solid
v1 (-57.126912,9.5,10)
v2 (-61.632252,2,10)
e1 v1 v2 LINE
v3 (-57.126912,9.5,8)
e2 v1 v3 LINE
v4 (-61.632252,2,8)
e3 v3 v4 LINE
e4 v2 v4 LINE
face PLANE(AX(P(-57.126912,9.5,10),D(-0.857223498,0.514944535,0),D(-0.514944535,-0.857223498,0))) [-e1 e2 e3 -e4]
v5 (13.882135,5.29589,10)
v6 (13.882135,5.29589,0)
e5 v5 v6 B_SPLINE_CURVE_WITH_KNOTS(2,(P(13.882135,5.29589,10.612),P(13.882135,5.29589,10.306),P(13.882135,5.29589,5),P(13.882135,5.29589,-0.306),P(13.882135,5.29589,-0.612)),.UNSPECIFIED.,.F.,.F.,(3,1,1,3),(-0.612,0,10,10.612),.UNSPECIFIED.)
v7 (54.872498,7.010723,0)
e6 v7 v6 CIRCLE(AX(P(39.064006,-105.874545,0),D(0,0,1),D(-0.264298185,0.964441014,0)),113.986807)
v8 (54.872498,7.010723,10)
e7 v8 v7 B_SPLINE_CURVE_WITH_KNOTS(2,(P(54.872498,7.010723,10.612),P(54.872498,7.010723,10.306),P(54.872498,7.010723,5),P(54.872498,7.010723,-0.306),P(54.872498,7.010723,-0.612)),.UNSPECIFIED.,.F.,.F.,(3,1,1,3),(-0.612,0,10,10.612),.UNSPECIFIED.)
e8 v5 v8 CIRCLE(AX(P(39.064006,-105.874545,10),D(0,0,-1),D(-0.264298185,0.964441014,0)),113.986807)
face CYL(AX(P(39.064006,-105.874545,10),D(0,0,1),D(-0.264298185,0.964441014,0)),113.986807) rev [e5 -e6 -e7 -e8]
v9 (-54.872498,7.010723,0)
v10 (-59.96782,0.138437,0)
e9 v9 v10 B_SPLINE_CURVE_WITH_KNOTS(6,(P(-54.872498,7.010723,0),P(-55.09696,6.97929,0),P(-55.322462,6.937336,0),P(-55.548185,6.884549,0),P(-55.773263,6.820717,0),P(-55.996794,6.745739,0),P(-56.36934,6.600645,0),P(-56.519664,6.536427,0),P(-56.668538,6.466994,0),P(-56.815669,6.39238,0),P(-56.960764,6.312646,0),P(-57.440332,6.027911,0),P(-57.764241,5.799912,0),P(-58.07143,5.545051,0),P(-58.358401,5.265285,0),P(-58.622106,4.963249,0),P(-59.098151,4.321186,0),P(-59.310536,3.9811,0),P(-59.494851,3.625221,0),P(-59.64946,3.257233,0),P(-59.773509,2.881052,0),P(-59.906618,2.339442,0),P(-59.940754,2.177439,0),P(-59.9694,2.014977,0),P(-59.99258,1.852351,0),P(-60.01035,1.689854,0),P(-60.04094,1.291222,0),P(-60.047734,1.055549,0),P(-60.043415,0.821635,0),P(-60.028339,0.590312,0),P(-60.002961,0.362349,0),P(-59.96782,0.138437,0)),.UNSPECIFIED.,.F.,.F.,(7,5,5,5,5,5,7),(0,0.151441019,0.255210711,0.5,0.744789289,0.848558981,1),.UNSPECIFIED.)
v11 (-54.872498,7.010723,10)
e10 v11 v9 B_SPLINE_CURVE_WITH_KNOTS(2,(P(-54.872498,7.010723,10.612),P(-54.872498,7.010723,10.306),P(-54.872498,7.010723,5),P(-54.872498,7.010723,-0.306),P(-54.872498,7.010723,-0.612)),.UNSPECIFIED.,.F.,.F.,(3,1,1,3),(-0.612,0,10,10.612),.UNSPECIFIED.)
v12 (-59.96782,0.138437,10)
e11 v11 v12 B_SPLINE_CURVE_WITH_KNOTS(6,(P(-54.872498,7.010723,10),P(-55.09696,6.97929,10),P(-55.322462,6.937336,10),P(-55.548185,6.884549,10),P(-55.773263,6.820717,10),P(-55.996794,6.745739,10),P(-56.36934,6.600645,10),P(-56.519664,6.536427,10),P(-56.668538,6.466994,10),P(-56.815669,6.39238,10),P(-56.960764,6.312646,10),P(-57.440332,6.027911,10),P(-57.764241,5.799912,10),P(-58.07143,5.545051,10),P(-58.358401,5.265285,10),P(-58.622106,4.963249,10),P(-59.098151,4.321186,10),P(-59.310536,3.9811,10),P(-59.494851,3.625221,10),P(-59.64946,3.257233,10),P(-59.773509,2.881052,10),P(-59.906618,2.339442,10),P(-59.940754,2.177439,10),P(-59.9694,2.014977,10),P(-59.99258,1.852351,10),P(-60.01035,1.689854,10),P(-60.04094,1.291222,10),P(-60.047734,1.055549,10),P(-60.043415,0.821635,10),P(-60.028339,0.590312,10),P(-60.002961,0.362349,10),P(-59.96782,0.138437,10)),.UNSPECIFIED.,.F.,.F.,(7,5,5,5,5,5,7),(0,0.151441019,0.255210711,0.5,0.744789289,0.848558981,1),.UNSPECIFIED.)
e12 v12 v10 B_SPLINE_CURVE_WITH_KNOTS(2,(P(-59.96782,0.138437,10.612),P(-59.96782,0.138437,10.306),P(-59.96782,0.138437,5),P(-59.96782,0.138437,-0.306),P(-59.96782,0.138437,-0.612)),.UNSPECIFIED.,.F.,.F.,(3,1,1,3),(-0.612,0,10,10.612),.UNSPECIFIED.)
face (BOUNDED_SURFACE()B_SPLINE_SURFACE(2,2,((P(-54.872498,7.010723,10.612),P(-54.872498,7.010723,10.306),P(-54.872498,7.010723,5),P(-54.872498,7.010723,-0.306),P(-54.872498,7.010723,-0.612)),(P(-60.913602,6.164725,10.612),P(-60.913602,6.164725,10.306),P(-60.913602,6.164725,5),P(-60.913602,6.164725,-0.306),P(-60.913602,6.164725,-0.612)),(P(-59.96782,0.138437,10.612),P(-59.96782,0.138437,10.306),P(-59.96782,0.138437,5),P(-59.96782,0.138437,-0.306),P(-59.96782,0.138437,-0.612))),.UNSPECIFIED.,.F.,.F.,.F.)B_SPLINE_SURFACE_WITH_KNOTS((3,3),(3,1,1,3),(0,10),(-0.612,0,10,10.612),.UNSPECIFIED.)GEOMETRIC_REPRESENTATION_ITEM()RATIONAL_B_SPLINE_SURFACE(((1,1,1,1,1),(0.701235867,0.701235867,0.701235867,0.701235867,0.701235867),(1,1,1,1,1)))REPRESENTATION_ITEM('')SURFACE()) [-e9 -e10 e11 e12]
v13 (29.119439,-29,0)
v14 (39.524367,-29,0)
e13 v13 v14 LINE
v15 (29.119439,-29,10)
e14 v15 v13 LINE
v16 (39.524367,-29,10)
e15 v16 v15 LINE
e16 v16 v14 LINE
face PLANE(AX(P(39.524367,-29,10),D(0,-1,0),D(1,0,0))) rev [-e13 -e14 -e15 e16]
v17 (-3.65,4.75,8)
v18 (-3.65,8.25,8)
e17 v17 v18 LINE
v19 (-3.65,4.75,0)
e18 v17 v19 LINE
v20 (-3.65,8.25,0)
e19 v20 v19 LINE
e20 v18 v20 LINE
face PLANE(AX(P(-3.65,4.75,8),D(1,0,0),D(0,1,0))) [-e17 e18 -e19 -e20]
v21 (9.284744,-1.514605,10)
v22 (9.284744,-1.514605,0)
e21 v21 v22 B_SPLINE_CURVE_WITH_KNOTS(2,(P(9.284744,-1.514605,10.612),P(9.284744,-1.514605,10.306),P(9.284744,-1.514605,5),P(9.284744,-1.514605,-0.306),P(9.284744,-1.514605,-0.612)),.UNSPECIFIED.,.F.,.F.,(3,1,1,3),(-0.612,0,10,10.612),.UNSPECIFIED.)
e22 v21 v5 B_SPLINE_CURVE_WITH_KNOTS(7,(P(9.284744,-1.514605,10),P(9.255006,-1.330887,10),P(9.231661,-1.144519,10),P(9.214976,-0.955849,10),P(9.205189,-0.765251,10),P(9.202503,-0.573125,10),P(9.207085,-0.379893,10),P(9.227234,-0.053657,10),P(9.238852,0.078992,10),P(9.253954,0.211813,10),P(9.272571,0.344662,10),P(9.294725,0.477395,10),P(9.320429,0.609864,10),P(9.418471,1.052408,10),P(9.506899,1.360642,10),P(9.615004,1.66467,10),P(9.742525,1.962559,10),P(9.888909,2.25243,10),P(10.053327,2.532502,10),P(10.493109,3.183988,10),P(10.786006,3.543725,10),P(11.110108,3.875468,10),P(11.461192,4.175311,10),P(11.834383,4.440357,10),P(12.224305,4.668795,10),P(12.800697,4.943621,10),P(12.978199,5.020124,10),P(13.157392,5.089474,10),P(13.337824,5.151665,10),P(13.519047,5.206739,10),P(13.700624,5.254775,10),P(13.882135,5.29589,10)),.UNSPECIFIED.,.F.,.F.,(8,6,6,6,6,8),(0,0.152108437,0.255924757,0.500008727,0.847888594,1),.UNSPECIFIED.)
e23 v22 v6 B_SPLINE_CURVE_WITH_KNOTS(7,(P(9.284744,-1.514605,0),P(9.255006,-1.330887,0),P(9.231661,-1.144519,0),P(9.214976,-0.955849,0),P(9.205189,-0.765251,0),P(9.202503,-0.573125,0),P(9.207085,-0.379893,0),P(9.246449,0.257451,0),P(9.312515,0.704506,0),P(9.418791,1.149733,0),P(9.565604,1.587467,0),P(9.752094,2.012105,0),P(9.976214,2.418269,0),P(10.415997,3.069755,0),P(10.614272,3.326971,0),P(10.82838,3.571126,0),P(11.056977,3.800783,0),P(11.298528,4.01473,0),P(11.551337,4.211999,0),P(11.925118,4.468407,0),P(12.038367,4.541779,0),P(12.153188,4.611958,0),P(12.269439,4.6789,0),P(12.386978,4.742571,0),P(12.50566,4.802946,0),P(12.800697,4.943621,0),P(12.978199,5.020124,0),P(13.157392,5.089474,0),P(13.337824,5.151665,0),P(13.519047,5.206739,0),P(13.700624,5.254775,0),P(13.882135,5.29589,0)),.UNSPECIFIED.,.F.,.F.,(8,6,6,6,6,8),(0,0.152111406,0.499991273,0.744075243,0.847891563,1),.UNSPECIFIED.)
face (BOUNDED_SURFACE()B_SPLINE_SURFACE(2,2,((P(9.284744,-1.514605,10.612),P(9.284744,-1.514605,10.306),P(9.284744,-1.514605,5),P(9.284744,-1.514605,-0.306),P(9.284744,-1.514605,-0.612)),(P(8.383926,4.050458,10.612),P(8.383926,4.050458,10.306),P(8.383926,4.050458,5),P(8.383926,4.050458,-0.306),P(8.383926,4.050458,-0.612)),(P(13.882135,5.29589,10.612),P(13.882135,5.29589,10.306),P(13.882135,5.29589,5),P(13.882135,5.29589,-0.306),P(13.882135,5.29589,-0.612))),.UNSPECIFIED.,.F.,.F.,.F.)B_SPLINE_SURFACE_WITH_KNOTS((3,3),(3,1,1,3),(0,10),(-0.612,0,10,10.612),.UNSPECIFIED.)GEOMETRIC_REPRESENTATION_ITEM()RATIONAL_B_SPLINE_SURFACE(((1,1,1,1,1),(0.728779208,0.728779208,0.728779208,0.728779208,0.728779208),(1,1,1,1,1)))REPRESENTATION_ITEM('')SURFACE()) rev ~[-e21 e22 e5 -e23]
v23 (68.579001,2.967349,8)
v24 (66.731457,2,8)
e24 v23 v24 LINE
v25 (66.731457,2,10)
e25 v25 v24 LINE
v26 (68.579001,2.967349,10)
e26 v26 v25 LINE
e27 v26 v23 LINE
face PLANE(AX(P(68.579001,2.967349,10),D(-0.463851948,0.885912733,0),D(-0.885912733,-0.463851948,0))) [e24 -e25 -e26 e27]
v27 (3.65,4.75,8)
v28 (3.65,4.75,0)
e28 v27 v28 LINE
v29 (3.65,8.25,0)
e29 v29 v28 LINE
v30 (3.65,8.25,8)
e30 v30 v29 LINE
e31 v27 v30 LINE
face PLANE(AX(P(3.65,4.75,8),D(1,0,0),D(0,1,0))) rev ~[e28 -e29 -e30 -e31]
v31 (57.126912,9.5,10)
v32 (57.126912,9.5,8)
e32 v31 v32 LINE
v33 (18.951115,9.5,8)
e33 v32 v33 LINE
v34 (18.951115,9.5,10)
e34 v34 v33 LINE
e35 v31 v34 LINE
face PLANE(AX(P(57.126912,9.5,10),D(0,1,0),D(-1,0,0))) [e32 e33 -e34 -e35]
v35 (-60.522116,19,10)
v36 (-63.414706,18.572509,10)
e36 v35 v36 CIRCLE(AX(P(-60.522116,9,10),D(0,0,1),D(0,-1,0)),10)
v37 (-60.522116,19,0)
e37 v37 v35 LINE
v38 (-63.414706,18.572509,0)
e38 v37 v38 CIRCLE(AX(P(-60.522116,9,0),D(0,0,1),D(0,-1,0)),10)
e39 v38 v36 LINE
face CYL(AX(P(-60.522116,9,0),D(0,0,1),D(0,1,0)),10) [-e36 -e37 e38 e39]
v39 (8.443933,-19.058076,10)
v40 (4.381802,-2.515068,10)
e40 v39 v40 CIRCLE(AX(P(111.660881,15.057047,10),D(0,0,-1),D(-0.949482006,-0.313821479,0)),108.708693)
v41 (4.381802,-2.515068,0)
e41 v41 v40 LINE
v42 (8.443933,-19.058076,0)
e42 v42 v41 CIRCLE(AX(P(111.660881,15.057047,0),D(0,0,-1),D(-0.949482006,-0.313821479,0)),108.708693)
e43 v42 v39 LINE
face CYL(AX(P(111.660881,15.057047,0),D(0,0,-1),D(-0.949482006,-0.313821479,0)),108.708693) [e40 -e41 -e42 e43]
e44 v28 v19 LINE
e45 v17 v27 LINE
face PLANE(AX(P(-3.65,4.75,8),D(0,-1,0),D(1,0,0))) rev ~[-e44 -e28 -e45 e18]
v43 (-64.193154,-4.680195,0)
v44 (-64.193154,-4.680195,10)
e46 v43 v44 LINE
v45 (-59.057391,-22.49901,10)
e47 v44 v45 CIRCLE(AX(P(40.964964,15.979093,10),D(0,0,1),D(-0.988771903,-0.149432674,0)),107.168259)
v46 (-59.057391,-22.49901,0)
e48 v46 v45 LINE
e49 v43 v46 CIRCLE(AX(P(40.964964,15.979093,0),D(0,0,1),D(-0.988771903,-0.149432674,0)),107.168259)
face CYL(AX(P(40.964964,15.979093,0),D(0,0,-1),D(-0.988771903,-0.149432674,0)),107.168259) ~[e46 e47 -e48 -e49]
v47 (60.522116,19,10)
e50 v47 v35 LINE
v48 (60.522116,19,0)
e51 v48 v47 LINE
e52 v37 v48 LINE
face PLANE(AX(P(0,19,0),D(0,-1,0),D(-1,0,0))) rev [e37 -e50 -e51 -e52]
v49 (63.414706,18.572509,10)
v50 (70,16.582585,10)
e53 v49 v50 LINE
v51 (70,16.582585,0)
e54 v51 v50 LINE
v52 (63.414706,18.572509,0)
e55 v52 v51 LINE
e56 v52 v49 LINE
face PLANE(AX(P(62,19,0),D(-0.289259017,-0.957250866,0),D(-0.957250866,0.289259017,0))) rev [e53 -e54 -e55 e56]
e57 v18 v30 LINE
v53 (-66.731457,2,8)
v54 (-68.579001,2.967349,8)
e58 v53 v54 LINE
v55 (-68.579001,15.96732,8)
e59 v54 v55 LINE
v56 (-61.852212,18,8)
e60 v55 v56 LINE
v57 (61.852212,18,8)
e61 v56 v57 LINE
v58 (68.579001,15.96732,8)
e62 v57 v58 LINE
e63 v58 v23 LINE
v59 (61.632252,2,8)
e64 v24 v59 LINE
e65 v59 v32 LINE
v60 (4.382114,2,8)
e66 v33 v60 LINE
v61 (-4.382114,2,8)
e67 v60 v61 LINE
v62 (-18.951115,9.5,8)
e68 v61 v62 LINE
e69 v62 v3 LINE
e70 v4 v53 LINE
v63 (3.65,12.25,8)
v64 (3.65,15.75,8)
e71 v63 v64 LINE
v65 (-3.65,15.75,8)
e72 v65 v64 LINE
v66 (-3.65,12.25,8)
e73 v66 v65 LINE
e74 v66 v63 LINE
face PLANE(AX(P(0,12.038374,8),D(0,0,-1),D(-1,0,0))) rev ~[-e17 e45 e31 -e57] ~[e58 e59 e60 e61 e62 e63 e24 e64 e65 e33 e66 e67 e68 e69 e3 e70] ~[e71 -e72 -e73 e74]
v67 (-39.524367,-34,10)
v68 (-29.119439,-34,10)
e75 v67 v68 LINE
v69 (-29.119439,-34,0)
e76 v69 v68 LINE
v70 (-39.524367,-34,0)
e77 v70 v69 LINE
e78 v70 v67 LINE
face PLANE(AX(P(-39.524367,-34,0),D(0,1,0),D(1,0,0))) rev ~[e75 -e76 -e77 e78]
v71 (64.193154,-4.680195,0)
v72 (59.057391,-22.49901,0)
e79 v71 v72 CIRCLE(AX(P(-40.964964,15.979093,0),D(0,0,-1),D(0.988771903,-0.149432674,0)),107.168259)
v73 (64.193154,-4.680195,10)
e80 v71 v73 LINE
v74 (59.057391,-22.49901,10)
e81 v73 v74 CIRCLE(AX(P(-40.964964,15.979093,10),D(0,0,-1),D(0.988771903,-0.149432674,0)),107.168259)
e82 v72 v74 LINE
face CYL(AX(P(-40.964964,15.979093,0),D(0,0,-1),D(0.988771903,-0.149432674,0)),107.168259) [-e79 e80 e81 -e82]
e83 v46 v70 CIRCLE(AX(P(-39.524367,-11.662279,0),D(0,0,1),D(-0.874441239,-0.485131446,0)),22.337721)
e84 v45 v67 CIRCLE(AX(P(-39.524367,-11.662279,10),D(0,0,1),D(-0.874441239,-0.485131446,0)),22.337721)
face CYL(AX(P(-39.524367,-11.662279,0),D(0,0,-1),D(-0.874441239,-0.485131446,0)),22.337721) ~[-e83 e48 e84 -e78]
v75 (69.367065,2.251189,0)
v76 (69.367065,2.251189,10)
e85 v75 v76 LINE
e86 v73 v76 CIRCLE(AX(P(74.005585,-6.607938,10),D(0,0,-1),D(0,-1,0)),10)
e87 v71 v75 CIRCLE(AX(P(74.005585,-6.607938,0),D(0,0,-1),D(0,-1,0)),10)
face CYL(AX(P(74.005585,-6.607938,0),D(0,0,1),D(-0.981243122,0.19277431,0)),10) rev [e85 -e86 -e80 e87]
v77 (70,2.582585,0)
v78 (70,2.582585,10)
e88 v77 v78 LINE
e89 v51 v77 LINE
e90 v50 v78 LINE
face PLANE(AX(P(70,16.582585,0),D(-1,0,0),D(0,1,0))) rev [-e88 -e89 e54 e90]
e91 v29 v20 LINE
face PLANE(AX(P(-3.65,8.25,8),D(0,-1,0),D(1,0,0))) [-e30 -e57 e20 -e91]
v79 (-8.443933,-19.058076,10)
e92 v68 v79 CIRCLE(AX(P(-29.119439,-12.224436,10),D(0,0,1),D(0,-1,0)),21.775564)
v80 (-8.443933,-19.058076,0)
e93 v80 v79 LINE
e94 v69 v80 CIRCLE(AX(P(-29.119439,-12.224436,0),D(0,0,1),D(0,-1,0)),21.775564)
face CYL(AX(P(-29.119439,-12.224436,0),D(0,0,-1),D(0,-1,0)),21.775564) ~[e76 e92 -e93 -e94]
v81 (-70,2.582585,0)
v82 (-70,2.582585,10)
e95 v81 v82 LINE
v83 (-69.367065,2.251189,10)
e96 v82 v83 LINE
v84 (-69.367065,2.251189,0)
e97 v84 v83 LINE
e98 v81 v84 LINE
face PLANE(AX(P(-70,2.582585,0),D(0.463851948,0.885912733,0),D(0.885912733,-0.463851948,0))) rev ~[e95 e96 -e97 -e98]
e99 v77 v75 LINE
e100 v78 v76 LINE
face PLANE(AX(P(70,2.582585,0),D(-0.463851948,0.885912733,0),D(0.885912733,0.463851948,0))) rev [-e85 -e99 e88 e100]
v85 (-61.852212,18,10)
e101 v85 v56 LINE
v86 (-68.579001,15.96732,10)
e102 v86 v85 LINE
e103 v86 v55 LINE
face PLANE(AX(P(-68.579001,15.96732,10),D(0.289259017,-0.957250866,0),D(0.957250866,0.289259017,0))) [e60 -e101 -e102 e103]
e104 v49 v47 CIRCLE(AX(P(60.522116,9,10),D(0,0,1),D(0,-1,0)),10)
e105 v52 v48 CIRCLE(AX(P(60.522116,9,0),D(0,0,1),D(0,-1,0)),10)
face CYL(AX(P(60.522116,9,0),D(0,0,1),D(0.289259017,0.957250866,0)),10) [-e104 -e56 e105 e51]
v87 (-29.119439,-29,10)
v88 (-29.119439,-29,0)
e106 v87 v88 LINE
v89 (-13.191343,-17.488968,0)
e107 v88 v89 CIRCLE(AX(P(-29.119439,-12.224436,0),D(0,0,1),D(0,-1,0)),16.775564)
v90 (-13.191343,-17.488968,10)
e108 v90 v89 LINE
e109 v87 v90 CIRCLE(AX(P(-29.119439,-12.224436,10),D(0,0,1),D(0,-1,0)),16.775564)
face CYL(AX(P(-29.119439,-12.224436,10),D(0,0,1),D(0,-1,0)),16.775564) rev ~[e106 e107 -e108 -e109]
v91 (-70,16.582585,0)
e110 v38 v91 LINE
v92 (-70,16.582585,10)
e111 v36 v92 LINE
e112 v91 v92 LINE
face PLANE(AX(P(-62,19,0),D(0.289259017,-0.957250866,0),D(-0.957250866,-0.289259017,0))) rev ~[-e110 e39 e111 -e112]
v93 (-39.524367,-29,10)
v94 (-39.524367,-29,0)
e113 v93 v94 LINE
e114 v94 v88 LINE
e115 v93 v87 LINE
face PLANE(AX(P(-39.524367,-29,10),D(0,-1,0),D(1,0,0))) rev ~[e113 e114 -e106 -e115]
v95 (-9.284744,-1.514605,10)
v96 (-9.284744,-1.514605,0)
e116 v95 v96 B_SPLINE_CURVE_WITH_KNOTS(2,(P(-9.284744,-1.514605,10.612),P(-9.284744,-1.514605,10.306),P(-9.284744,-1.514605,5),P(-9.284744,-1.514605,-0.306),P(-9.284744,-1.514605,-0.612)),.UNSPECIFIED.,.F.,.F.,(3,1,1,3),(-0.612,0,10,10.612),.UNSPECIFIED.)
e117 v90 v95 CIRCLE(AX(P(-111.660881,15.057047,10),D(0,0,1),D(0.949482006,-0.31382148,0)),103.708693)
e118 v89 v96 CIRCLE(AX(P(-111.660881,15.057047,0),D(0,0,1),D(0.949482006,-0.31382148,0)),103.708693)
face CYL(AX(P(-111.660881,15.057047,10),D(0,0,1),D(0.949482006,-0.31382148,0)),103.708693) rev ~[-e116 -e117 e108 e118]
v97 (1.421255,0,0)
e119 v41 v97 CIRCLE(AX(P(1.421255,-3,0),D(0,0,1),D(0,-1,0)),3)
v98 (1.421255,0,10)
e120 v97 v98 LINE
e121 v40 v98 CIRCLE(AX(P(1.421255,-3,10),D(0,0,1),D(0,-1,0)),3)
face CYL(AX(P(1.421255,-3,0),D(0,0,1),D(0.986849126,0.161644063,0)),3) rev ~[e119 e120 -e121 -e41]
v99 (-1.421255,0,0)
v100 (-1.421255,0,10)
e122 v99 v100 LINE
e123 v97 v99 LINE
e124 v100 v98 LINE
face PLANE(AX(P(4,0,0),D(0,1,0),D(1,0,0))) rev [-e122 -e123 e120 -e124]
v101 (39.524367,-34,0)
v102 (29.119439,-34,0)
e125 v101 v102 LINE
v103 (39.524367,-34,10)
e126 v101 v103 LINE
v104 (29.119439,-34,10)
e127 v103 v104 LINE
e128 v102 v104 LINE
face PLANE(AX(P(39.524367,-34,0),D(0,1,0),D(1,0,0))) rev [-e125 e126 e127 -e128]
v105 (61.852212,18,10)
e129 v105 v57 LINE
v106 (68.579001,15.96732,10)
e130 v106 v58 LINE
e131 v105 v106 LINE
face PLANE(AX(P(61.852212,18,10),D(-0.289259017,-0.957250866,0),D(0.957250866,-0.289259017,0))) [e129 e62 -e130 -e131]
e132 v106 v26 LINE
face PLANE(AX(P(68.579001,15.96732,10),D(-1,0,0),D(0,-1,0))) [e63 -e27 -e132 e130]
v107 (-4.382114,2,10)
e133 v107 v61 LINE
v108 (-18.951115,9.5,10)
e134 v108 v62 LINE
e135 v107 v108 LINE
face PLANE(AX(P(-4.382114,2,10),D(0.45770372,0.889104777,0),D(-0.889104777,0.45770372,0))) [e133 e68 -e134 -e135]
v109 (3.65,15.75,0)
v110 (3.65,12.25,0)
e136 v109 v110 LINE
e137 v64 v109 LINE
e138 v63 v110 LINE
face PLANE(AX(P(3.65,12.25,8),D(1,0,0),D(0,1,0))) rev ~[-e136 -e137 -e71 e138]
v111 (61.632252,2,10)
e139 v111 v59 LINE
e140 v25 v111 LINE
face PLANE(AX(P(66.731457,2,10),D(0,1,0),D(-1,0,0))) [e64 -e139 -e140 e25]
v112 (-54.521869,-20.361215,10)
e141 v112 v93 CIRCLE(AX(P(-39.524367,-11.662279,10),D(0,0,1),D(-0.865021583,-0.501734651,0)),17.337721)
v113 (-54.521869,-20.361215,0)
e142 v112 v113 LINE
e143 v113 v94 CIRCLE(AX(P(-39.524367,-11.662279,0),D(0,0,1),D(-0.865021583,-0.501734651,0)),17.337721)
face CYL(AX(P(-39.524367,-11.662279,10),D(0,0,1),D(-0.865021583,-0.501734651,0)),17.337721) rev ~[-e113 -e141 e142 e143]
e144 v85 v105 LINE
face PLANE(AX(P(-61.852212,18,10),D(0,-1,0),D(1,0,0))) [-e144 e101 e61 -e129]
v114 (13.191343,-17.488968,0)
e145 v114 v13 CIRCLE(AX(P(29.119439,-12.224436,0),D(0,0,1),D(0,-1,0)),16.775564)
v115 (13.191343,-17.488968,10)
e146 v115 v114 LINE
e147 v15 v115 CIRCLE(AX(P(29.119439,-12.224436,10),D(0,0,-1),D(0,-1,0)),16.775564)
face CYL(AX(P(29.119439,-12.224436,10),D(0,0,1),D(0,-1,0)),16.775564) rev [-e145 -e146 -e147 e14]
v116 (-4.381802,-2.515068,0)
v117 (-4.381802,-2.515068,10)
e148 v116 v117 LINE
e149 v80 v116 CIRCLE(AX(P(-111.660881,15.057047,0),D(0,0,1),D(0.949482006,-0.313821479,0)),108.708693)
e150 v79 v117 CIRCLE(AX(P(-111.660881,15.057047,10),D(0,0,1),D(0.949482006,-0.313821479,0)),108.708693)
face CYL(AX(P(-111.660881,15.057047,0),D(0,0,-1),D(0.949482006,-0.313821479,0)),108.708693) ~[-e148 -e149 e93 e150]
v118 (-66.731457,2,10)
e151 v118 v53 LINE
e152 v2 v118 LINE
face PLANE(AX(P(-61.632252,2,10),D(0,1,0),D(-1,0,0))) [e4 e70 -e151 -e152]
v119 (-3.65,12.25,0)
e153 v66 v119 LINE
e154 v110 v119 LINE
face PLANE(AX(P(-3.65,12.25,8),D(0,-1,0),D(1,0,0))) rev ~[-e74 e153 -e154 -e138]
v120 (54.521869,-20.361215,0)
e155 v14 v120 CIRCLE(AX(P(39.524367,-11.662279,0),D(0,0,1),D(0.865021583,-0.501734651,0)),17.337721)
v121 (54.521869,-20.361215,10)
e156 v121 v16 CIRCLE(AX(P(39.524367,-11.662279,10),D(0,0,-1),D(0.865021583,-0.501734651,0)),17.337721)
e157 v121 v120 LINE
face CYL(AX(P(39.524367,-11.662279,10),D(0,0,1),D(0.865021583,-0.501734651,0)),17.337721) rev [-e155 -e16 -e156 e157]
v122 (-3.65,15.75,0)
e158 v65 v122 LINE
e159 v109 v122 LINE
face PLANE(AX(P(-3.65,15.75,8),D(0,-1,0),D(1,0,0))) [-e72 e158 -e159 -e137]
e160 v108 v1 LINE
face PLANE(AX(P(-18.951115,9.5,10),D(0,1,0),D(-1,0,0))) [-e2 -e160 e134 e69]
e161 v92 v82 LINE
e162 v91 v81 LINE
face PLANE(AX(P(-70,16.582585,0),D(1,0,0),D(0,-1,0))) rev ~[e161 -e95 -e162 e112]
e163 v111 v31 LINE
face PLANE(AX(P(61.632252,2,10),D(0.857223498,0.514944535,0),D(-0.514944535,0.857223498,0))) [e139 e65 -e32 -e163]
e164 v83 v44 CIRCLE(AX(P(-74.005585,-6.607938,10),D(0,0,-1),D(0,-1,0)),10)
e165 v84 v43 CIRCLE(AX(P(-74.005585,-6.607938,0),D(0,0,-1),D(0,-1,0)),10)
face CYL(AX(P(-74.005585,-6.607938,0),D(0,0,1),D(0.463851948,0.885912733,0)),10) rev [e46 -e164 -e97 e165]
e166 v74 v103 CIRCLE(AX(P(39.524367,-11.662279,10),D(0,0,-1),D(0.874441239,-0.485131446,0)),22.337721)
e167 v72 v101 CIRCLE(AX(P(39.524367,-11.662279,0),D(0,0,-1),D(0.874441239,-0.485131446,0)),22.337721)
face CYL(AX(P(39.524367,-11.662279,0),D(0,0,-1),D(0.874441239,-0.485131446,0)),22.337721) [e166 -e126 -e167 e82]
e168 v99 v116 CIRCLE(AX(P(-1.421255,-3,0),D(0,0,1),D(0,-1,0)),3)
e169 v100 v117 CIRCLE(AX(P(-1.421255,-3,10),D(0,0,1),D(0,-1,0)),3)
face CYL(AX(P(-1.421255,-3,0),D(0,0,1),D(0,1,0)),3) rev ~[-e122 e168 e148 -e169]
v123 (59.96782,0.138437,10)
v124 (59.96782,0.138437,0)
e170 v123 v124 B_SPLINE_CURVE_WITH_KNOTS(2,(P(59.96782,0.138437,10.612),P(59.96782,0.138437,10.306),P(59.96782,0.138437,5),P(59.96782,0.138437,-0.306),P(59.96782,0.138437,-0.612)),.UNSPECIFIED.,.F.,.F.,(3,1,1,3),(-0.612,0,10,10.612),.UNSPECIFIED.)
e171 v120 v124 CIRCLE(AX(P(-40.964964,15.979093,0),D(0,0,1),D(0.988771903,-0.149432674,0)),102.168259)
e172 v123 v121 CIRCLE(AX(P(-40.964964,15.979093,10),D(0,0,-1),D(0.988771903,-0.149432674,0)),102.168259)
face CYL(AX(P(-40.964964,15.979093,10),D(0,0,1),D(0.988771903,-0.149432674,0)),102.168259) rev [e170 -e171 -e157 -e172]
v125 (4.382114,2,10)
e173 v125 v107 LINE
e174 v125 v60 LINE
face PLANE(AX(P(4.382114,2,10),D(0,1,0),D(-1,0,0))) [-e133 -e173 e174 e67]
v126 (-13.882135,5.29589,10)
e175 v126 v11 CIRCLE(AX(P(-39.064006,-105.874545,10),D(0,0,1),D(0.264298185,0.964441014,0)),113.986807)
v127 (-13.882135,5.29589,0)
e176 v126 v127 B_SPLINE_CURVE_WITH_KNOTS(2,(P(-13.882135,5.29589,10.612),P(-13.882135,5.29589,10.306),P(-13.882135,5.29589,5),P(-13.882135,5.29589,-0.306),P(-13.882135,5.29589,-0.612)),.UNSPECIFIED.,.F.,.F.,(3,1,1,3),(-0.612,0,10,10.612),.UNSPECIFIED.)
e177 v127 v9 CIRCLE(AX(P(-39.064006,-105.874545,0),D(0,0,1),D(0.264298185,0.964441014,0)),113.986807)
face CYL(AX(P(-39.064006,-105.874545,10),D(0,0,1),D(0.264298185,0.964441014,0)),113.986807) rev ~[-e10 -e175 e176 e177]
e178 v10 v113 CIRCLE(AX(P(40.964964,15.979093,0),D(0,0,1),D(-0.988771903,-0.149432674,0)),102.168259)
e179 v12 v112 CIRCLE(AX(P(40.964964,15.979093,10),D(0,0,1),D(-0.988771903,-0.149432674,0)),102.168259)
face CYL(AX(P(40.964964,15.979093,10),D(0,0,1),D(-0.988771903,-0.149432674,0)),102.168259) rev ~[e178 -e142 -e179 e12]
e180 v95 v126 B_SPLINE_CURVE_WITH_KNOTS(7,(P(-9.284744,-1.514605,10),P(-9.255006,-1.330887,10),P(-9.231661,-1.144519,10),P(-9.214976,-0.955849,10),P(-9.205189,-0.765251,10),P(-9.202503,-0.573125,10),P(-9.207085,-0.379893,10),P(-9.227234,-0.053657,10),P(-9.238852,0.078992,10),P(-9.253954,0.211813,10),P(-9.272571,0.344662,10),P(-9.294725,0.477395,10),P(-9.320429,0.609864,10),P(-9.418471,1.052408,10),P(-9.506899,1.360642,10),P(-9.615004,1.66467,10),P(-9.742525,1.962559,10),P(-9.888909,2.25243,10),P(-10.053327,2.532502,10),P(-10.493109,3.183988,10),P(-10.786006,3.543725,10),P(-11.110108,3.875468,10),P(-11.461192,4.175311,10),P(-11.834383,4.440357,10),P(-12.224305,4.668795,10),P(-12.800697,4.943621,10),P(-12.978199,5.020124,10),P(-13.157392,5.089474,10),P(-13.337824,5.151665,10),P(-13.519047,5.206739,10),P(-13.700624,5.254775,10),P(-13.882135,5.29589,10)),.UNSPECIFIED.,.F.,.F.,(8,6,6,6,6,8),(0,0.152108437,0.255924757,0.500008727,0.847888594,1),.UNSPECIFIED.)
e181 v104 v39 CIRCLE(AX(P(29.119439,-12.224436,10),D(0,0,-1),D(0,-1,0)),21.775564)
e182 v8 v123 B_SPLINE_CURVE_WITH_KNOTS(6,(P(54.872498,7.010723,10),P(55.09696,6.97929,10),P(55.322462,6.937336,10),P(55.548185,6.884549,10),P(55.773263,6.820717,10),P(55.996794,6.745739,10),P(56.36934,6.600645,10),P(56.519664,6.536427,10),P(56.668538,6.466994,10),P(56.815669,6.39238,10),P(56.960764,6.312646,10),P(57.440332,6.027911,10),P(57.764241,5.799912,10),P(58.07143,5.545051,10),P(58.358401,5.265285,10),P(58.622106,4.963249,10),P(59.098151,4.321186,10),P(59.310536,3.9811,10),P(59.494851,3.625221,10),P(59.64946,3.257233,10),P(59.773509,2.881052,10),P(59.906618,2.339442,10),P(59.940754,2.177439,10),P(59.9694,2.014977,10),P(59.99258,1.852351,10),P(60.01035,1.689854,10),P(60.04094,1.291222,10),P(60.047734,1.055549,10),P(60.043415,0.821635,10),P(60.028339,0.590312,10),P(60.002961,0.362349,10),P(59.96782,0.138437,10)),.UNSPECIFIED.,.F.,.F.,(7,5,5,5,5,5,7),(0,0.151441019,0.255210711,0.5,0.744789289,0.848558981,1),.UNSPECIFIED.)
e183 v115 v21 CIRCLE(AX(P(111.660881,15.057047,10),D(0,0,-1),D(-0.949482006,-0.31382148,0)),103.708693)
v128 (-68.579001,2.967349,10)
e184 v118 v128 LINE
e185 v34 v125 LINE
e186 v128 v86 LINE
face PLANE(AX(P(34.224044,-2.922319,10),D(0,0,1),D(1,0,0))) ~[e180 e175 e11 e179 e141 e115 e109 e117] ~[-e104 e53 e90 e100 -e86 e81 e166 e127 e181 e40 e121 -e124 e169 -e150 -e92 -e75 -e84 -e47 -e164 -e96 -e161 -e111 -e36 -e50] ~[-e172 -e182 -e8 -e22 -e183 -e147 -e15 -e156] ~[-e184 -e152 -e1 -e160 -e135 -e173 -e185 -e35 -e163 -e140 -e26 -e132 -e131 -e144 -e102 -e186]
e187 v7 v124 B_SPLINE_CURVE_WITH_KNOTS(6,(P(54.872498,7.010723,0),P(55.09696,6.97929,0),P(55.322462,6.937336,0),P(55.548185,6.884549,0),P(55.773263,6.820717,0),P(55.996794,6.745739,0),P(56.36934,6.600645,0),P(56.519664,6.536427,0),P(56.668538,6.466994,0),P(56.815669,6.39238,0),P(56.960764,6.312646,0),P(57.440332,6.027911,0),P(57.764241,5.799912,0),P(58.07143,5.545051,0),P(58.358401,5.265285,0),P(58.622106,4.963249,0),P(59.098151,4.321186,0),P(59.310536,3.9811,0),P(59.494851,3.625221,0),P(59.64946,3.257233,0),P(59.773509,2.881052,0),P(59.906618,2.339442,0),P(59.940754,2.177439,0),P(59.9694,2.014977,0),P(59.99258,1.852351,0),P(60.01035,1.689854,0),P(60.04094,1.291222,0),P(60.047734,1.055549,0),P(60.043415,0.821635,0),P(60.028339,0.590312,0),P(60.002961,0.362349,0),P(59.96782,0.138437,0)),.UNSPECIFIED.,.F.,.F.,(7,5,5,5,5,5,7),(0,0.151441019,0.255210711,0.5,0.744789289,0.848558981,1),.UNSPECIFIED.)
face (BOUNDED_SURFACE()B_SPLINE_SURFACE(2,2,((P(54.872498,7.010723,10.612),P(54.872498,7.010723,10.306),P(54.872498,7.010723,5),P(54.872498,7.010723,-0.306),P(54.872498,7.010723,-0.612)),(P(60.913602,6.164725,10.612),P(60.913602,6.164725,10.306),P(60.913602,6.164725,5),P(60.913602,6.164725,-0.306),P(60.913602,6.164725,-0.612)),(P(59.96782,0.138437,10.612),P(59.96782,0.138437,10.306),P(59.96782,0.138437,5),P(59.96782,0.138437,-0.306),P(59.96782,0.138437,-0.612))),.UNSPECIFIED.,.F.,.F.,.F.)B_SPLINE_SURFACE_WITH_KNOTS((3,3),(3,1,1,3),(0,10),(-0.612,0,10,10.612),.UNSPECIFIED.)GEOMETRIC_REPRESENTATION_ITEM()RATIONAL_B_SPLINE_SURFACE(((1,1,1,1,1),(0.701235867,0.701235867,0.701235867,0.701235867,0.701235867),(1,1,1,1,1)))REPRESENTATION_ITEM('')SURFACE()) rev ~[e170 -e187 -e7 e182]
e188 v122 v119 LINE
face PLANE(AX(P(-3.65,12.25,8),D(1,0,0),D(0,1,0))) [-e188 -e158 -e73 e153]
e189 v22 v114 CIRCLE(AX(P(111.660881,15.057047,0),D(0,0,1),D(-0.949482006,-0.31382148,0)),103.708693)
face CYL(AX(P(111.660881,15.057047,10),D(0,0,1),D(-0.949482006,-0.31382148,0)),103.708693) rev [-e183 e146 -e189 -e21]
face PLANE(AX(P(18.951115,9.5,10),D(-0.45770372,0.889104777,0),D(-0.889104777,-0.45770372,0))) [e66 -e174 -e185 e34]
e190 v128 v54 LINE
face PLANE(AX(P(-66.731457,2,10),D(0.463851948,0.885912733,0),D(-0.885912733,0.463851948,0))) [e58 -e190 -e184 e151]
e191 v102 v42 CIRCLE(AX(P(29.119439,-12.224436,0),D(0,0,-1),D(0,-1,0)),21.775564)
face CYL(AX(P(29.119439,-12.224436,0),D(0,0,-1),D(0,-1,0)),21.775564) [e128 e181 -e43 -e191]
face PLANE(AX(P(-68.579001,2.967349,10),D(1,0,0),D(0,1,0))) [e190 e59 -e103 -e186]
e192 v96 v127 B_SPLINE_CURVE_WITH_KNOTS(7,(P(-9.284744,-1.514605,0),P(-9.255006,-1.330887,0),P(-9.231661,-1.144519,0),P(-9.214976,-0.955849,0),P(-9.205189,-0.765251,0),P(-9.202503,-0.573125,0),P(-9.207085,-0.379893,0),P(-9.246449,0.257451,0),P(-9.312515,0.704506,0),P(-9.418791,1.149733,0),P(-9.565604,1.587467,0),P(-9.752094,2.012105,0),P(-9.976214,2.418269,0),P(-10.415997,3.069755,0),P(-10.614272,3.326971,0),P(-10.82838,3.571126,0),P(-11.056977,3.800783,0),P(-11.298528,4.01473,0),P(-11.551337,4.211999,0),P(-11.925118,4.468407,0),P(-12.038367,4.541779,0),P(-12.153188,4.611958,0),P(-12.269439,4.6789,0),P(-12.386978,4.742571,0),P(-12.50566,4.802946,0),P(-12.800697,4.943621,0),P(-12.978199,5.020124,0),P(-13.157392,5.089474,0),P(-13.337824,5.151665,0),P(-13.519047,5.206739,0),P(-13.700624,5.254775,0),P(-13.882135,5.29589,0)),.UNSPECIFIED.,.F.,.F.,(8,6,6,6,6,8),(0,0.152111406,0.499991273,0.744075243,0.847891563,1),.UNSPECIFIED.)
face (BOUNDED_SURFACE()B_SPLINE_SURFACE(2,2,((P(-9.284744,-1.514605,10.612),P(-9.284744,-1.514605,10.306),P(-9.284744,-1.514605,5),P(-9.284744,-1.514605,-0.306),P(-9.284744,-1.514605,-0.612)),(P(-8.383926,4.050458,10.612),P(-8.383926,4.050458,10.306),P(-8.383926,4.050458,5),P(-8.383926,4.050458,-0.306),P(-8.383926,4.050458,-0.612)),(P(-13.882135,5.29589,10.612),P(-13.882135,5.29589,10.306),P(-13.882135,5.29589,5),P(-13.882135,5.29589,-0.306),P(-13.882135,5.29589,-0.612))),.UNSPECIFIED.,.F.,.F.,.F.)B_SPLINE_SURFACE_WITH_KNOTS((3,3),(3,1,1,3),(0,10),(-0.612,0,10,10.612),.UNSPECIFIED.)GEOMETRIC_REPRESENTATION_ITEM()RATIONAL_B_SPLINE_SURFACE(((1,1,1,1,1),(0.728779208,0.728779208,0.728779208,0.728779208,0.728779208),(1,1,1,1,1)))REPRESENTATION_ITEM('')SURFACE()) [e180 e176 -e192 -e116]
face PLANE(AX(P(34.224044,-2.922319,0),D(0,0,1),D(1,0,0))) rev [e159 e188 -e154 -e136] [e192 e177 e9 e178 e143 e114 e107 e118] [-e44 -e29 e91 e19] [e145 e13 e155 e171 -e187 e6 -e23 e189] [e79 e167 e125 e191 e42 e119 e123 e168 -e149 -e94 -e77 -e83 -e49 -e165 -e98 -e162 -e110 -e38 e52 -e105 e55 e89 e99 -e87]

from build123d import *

# Parameters (mm, degrees)
BOSS_EXTRUDE1_DEPTH  = 10
CUT_EXTRUDE1_DEPTH   = 79.460180984
FILLET1_R            = 6
FILLET4_R            = 3
FILLET5_R            = 10
FILLET1_OF_MIRROR2_R = 6
FILLET4_OF_MIRROR2_R = 3
FILLET5_OF_MIRROR2_R = 10
CUT_EXTRUDE2_DEPTH   = 2
SKETCH4_W            = 7.3
SKETCH4_H            = 3.5
CUT_EXTRUDE3_DEPTH   = 79.230429006


with BuildPart() as part:
    # Sketch1 → Boss-Extrude1 (new body)
    with BuildSketch(Plane.XY):
        with BuildLine():
            Line((-70, 16.58258549), (-70, 2.58258549))
            Line((-70, 2.58258549), (-65, -0.035347018))
            ThreePointArc((-65, -0.035347018), (-62.639321295, -11.428715409), (-59.057390955, -22.499009997))
            ThreePointArc((-59.057390955, -22.499009997), (-50.858075368, -30.911196539), (-39.524366721, -34))
            Line((-39.524366721, -34), (-29.119439011, -34))
            ThreePointArc((-29.119439011, -34), (-16.364659062, -29.873537236), (-8.443933007, -19.058075838))
            ThreePointArc((-8.443933007, -19.058075838), (-5.792248942, -9.629238804), (-4, 0))
            Line((-4, 0), (0, 0))
            Line((0, 0), (0, 19))
            Line((0, 19), (-62, 19))
            Line((-62, 19), (-70, 16.58258549))
        make_face()
    boss_extrude1 = extrude(amount=BOSS_EXTRUDE1_DEPTH)

    # Sketch2 → Cut-Extrude1 (cut, through all)
    with BuildSketch(Plane.XY.offset(10)):
        with BuildLine():
            Line((-39.524366721, -29), (-29.119439011, -29))
            ThreePointArc((-29.119439011, -29), (-19.293350153, -25.821035725), (-13.191343035, -17.488968441))
            ThreePointArc((-13.191343035, -17.488968441), (-10.661621804, -8.493805879), (-8.951806424, 0.692541077))
            ThreePointArc((-8.951806424, 0.692541077), (-8.83111114, 2.375291538), (-8.93749946, 4.05900707))
            ThreePointArc((-8.93749946, 4.05900707), (-33.987475013, 7.999161751), (-59.288689209, 6.303681198))
            ThreePointArc((-59.288689209, 6.303681198), (-60.075532666, 3.563074376), (-60.056140486, 0.711816353))
            ThreePointArc((-60.056140486, 0.711816353), (-57.852345066, -9.972645379), (-54.521869403, -20.361214511))
            ThreePointArc((-54.521869403, -20.361214511), (-48.178176596, -26.685865227), (-39.524366721, -29))
        make_face()
    cut_extrude1 = extrude(amount=-CUT_EXTRUDE1_DEPTH, mode=Mode.SUBTRACT)

    # Fillet1
    fillet1_edges = [part.edges().sort_by_distance(p)[0] for p in [
        (-8.93749946, 4.05900707, 5),
        (-59.288689209, 6.303681198, 5),
    ]]
    fillet(fillet1_edges, radius=FILLET1_R)

    # Fillet4
    fillet4_edges = [part.edges().sort_by_distance(p)[0] for p in [
        (-4, 0, 5),
    ]]
    fillet(fillet4_edges, radius=FILLET4_R)

    # Fillet5
    fillet5_edges = [part.edges().sort_by_distance(p)[0] for p in [
        (-65, -0.035347018, 5),
        (-62, 19, 5),
    ]]
    fillet(fillet5_edges, radius=FILLET5_R)

    # Mirror2: Boss-Extrude1, Cut-Extrude1 across plane
    add(boss_extrude1.mirror(Plane(origin=(0, 19, 10), x_dir=(0, 0, 1), z_dir=(1, 0, 0))))
    add(cut_extrude1.mirror(Plane(origin=(0, 19, 10), x_dir=(0, 0, 1), z_dir=(1, 0, 0))), mode=Mode.SUBTRACT)

    # Fillet1 of Mirror2
    fillet1_of_mirror2_edges = [part.edges().sort_by_distance(p)[0] for p in [
        (8.93749946, 4.05900707, 5),
        (59.288689209, 6.303681198, 5),
    ]]
    fillet(fillet1_of_mirror2_edges, radius=FILLET1_OF_MIRROR2_R)

    # Fillet4 of Mirror2
    fillet4_of_mirror2_edges = [part.edges().sort_by_distance(p)[0] for p in [
        (4, 0, 5),
    ]]
    fillet(fillet4_of_mirror2_edges, radius=FILLET4_OF_MIRROR2_R)

    # Fillet5 of Mirror2
    fillet5_of_mirror2_edges = [part.edges().sort_by_distance(p)[0] for p in [
        (65, -0.035347018, 5),
        (62, 19, 5),
    ]]
    fillet(fillet5_of_mirror2_edges, radius=FILLET5_OF_MIRROR2_R)

    # Sketch3 → Cut-Extrude2 (cut)
    with BuildSketch(Plane.XY.offset(10)):
        Polygon((-68.579000582, 15.967320332), (-61.852211578, 18), (61.852211578, 18), (68.579000582, 15.967320332), (68.579000582, 2.967348727), (66.731457293, 2), (61.632252323, 2), (57.126911514, 9.5), (18.95111491, 9.5), (4.382114171, 2), (-4.382114171, 2), (-18.95111491, 9.5), (-57.126911514, 9.5), (-61.632252323, 2), (-66.731457293, 2), (-68.579000582, 2.967348727), align=None)
    extrude(amount=-CUT_EXTRUDE2_DEPTH, mode=Mode.SUBTRACT)

    # Sketch4 → Cut-Extrude3 (cut, through all)
    with BuildSketch(Plane.XY.offset(8)):
        with Locations((0, 14)):
            Rectangle(SKETCH4_W, SKETCH4_H)
        with Locations((0, 6.5)):
            Rectangle(SKETCH4_W, SKETCH4_H)
    extrude(amount=-CUT_EXTRUDE3_DEPTH, mode=Mode.SUBTRACT)


solid = part.part
